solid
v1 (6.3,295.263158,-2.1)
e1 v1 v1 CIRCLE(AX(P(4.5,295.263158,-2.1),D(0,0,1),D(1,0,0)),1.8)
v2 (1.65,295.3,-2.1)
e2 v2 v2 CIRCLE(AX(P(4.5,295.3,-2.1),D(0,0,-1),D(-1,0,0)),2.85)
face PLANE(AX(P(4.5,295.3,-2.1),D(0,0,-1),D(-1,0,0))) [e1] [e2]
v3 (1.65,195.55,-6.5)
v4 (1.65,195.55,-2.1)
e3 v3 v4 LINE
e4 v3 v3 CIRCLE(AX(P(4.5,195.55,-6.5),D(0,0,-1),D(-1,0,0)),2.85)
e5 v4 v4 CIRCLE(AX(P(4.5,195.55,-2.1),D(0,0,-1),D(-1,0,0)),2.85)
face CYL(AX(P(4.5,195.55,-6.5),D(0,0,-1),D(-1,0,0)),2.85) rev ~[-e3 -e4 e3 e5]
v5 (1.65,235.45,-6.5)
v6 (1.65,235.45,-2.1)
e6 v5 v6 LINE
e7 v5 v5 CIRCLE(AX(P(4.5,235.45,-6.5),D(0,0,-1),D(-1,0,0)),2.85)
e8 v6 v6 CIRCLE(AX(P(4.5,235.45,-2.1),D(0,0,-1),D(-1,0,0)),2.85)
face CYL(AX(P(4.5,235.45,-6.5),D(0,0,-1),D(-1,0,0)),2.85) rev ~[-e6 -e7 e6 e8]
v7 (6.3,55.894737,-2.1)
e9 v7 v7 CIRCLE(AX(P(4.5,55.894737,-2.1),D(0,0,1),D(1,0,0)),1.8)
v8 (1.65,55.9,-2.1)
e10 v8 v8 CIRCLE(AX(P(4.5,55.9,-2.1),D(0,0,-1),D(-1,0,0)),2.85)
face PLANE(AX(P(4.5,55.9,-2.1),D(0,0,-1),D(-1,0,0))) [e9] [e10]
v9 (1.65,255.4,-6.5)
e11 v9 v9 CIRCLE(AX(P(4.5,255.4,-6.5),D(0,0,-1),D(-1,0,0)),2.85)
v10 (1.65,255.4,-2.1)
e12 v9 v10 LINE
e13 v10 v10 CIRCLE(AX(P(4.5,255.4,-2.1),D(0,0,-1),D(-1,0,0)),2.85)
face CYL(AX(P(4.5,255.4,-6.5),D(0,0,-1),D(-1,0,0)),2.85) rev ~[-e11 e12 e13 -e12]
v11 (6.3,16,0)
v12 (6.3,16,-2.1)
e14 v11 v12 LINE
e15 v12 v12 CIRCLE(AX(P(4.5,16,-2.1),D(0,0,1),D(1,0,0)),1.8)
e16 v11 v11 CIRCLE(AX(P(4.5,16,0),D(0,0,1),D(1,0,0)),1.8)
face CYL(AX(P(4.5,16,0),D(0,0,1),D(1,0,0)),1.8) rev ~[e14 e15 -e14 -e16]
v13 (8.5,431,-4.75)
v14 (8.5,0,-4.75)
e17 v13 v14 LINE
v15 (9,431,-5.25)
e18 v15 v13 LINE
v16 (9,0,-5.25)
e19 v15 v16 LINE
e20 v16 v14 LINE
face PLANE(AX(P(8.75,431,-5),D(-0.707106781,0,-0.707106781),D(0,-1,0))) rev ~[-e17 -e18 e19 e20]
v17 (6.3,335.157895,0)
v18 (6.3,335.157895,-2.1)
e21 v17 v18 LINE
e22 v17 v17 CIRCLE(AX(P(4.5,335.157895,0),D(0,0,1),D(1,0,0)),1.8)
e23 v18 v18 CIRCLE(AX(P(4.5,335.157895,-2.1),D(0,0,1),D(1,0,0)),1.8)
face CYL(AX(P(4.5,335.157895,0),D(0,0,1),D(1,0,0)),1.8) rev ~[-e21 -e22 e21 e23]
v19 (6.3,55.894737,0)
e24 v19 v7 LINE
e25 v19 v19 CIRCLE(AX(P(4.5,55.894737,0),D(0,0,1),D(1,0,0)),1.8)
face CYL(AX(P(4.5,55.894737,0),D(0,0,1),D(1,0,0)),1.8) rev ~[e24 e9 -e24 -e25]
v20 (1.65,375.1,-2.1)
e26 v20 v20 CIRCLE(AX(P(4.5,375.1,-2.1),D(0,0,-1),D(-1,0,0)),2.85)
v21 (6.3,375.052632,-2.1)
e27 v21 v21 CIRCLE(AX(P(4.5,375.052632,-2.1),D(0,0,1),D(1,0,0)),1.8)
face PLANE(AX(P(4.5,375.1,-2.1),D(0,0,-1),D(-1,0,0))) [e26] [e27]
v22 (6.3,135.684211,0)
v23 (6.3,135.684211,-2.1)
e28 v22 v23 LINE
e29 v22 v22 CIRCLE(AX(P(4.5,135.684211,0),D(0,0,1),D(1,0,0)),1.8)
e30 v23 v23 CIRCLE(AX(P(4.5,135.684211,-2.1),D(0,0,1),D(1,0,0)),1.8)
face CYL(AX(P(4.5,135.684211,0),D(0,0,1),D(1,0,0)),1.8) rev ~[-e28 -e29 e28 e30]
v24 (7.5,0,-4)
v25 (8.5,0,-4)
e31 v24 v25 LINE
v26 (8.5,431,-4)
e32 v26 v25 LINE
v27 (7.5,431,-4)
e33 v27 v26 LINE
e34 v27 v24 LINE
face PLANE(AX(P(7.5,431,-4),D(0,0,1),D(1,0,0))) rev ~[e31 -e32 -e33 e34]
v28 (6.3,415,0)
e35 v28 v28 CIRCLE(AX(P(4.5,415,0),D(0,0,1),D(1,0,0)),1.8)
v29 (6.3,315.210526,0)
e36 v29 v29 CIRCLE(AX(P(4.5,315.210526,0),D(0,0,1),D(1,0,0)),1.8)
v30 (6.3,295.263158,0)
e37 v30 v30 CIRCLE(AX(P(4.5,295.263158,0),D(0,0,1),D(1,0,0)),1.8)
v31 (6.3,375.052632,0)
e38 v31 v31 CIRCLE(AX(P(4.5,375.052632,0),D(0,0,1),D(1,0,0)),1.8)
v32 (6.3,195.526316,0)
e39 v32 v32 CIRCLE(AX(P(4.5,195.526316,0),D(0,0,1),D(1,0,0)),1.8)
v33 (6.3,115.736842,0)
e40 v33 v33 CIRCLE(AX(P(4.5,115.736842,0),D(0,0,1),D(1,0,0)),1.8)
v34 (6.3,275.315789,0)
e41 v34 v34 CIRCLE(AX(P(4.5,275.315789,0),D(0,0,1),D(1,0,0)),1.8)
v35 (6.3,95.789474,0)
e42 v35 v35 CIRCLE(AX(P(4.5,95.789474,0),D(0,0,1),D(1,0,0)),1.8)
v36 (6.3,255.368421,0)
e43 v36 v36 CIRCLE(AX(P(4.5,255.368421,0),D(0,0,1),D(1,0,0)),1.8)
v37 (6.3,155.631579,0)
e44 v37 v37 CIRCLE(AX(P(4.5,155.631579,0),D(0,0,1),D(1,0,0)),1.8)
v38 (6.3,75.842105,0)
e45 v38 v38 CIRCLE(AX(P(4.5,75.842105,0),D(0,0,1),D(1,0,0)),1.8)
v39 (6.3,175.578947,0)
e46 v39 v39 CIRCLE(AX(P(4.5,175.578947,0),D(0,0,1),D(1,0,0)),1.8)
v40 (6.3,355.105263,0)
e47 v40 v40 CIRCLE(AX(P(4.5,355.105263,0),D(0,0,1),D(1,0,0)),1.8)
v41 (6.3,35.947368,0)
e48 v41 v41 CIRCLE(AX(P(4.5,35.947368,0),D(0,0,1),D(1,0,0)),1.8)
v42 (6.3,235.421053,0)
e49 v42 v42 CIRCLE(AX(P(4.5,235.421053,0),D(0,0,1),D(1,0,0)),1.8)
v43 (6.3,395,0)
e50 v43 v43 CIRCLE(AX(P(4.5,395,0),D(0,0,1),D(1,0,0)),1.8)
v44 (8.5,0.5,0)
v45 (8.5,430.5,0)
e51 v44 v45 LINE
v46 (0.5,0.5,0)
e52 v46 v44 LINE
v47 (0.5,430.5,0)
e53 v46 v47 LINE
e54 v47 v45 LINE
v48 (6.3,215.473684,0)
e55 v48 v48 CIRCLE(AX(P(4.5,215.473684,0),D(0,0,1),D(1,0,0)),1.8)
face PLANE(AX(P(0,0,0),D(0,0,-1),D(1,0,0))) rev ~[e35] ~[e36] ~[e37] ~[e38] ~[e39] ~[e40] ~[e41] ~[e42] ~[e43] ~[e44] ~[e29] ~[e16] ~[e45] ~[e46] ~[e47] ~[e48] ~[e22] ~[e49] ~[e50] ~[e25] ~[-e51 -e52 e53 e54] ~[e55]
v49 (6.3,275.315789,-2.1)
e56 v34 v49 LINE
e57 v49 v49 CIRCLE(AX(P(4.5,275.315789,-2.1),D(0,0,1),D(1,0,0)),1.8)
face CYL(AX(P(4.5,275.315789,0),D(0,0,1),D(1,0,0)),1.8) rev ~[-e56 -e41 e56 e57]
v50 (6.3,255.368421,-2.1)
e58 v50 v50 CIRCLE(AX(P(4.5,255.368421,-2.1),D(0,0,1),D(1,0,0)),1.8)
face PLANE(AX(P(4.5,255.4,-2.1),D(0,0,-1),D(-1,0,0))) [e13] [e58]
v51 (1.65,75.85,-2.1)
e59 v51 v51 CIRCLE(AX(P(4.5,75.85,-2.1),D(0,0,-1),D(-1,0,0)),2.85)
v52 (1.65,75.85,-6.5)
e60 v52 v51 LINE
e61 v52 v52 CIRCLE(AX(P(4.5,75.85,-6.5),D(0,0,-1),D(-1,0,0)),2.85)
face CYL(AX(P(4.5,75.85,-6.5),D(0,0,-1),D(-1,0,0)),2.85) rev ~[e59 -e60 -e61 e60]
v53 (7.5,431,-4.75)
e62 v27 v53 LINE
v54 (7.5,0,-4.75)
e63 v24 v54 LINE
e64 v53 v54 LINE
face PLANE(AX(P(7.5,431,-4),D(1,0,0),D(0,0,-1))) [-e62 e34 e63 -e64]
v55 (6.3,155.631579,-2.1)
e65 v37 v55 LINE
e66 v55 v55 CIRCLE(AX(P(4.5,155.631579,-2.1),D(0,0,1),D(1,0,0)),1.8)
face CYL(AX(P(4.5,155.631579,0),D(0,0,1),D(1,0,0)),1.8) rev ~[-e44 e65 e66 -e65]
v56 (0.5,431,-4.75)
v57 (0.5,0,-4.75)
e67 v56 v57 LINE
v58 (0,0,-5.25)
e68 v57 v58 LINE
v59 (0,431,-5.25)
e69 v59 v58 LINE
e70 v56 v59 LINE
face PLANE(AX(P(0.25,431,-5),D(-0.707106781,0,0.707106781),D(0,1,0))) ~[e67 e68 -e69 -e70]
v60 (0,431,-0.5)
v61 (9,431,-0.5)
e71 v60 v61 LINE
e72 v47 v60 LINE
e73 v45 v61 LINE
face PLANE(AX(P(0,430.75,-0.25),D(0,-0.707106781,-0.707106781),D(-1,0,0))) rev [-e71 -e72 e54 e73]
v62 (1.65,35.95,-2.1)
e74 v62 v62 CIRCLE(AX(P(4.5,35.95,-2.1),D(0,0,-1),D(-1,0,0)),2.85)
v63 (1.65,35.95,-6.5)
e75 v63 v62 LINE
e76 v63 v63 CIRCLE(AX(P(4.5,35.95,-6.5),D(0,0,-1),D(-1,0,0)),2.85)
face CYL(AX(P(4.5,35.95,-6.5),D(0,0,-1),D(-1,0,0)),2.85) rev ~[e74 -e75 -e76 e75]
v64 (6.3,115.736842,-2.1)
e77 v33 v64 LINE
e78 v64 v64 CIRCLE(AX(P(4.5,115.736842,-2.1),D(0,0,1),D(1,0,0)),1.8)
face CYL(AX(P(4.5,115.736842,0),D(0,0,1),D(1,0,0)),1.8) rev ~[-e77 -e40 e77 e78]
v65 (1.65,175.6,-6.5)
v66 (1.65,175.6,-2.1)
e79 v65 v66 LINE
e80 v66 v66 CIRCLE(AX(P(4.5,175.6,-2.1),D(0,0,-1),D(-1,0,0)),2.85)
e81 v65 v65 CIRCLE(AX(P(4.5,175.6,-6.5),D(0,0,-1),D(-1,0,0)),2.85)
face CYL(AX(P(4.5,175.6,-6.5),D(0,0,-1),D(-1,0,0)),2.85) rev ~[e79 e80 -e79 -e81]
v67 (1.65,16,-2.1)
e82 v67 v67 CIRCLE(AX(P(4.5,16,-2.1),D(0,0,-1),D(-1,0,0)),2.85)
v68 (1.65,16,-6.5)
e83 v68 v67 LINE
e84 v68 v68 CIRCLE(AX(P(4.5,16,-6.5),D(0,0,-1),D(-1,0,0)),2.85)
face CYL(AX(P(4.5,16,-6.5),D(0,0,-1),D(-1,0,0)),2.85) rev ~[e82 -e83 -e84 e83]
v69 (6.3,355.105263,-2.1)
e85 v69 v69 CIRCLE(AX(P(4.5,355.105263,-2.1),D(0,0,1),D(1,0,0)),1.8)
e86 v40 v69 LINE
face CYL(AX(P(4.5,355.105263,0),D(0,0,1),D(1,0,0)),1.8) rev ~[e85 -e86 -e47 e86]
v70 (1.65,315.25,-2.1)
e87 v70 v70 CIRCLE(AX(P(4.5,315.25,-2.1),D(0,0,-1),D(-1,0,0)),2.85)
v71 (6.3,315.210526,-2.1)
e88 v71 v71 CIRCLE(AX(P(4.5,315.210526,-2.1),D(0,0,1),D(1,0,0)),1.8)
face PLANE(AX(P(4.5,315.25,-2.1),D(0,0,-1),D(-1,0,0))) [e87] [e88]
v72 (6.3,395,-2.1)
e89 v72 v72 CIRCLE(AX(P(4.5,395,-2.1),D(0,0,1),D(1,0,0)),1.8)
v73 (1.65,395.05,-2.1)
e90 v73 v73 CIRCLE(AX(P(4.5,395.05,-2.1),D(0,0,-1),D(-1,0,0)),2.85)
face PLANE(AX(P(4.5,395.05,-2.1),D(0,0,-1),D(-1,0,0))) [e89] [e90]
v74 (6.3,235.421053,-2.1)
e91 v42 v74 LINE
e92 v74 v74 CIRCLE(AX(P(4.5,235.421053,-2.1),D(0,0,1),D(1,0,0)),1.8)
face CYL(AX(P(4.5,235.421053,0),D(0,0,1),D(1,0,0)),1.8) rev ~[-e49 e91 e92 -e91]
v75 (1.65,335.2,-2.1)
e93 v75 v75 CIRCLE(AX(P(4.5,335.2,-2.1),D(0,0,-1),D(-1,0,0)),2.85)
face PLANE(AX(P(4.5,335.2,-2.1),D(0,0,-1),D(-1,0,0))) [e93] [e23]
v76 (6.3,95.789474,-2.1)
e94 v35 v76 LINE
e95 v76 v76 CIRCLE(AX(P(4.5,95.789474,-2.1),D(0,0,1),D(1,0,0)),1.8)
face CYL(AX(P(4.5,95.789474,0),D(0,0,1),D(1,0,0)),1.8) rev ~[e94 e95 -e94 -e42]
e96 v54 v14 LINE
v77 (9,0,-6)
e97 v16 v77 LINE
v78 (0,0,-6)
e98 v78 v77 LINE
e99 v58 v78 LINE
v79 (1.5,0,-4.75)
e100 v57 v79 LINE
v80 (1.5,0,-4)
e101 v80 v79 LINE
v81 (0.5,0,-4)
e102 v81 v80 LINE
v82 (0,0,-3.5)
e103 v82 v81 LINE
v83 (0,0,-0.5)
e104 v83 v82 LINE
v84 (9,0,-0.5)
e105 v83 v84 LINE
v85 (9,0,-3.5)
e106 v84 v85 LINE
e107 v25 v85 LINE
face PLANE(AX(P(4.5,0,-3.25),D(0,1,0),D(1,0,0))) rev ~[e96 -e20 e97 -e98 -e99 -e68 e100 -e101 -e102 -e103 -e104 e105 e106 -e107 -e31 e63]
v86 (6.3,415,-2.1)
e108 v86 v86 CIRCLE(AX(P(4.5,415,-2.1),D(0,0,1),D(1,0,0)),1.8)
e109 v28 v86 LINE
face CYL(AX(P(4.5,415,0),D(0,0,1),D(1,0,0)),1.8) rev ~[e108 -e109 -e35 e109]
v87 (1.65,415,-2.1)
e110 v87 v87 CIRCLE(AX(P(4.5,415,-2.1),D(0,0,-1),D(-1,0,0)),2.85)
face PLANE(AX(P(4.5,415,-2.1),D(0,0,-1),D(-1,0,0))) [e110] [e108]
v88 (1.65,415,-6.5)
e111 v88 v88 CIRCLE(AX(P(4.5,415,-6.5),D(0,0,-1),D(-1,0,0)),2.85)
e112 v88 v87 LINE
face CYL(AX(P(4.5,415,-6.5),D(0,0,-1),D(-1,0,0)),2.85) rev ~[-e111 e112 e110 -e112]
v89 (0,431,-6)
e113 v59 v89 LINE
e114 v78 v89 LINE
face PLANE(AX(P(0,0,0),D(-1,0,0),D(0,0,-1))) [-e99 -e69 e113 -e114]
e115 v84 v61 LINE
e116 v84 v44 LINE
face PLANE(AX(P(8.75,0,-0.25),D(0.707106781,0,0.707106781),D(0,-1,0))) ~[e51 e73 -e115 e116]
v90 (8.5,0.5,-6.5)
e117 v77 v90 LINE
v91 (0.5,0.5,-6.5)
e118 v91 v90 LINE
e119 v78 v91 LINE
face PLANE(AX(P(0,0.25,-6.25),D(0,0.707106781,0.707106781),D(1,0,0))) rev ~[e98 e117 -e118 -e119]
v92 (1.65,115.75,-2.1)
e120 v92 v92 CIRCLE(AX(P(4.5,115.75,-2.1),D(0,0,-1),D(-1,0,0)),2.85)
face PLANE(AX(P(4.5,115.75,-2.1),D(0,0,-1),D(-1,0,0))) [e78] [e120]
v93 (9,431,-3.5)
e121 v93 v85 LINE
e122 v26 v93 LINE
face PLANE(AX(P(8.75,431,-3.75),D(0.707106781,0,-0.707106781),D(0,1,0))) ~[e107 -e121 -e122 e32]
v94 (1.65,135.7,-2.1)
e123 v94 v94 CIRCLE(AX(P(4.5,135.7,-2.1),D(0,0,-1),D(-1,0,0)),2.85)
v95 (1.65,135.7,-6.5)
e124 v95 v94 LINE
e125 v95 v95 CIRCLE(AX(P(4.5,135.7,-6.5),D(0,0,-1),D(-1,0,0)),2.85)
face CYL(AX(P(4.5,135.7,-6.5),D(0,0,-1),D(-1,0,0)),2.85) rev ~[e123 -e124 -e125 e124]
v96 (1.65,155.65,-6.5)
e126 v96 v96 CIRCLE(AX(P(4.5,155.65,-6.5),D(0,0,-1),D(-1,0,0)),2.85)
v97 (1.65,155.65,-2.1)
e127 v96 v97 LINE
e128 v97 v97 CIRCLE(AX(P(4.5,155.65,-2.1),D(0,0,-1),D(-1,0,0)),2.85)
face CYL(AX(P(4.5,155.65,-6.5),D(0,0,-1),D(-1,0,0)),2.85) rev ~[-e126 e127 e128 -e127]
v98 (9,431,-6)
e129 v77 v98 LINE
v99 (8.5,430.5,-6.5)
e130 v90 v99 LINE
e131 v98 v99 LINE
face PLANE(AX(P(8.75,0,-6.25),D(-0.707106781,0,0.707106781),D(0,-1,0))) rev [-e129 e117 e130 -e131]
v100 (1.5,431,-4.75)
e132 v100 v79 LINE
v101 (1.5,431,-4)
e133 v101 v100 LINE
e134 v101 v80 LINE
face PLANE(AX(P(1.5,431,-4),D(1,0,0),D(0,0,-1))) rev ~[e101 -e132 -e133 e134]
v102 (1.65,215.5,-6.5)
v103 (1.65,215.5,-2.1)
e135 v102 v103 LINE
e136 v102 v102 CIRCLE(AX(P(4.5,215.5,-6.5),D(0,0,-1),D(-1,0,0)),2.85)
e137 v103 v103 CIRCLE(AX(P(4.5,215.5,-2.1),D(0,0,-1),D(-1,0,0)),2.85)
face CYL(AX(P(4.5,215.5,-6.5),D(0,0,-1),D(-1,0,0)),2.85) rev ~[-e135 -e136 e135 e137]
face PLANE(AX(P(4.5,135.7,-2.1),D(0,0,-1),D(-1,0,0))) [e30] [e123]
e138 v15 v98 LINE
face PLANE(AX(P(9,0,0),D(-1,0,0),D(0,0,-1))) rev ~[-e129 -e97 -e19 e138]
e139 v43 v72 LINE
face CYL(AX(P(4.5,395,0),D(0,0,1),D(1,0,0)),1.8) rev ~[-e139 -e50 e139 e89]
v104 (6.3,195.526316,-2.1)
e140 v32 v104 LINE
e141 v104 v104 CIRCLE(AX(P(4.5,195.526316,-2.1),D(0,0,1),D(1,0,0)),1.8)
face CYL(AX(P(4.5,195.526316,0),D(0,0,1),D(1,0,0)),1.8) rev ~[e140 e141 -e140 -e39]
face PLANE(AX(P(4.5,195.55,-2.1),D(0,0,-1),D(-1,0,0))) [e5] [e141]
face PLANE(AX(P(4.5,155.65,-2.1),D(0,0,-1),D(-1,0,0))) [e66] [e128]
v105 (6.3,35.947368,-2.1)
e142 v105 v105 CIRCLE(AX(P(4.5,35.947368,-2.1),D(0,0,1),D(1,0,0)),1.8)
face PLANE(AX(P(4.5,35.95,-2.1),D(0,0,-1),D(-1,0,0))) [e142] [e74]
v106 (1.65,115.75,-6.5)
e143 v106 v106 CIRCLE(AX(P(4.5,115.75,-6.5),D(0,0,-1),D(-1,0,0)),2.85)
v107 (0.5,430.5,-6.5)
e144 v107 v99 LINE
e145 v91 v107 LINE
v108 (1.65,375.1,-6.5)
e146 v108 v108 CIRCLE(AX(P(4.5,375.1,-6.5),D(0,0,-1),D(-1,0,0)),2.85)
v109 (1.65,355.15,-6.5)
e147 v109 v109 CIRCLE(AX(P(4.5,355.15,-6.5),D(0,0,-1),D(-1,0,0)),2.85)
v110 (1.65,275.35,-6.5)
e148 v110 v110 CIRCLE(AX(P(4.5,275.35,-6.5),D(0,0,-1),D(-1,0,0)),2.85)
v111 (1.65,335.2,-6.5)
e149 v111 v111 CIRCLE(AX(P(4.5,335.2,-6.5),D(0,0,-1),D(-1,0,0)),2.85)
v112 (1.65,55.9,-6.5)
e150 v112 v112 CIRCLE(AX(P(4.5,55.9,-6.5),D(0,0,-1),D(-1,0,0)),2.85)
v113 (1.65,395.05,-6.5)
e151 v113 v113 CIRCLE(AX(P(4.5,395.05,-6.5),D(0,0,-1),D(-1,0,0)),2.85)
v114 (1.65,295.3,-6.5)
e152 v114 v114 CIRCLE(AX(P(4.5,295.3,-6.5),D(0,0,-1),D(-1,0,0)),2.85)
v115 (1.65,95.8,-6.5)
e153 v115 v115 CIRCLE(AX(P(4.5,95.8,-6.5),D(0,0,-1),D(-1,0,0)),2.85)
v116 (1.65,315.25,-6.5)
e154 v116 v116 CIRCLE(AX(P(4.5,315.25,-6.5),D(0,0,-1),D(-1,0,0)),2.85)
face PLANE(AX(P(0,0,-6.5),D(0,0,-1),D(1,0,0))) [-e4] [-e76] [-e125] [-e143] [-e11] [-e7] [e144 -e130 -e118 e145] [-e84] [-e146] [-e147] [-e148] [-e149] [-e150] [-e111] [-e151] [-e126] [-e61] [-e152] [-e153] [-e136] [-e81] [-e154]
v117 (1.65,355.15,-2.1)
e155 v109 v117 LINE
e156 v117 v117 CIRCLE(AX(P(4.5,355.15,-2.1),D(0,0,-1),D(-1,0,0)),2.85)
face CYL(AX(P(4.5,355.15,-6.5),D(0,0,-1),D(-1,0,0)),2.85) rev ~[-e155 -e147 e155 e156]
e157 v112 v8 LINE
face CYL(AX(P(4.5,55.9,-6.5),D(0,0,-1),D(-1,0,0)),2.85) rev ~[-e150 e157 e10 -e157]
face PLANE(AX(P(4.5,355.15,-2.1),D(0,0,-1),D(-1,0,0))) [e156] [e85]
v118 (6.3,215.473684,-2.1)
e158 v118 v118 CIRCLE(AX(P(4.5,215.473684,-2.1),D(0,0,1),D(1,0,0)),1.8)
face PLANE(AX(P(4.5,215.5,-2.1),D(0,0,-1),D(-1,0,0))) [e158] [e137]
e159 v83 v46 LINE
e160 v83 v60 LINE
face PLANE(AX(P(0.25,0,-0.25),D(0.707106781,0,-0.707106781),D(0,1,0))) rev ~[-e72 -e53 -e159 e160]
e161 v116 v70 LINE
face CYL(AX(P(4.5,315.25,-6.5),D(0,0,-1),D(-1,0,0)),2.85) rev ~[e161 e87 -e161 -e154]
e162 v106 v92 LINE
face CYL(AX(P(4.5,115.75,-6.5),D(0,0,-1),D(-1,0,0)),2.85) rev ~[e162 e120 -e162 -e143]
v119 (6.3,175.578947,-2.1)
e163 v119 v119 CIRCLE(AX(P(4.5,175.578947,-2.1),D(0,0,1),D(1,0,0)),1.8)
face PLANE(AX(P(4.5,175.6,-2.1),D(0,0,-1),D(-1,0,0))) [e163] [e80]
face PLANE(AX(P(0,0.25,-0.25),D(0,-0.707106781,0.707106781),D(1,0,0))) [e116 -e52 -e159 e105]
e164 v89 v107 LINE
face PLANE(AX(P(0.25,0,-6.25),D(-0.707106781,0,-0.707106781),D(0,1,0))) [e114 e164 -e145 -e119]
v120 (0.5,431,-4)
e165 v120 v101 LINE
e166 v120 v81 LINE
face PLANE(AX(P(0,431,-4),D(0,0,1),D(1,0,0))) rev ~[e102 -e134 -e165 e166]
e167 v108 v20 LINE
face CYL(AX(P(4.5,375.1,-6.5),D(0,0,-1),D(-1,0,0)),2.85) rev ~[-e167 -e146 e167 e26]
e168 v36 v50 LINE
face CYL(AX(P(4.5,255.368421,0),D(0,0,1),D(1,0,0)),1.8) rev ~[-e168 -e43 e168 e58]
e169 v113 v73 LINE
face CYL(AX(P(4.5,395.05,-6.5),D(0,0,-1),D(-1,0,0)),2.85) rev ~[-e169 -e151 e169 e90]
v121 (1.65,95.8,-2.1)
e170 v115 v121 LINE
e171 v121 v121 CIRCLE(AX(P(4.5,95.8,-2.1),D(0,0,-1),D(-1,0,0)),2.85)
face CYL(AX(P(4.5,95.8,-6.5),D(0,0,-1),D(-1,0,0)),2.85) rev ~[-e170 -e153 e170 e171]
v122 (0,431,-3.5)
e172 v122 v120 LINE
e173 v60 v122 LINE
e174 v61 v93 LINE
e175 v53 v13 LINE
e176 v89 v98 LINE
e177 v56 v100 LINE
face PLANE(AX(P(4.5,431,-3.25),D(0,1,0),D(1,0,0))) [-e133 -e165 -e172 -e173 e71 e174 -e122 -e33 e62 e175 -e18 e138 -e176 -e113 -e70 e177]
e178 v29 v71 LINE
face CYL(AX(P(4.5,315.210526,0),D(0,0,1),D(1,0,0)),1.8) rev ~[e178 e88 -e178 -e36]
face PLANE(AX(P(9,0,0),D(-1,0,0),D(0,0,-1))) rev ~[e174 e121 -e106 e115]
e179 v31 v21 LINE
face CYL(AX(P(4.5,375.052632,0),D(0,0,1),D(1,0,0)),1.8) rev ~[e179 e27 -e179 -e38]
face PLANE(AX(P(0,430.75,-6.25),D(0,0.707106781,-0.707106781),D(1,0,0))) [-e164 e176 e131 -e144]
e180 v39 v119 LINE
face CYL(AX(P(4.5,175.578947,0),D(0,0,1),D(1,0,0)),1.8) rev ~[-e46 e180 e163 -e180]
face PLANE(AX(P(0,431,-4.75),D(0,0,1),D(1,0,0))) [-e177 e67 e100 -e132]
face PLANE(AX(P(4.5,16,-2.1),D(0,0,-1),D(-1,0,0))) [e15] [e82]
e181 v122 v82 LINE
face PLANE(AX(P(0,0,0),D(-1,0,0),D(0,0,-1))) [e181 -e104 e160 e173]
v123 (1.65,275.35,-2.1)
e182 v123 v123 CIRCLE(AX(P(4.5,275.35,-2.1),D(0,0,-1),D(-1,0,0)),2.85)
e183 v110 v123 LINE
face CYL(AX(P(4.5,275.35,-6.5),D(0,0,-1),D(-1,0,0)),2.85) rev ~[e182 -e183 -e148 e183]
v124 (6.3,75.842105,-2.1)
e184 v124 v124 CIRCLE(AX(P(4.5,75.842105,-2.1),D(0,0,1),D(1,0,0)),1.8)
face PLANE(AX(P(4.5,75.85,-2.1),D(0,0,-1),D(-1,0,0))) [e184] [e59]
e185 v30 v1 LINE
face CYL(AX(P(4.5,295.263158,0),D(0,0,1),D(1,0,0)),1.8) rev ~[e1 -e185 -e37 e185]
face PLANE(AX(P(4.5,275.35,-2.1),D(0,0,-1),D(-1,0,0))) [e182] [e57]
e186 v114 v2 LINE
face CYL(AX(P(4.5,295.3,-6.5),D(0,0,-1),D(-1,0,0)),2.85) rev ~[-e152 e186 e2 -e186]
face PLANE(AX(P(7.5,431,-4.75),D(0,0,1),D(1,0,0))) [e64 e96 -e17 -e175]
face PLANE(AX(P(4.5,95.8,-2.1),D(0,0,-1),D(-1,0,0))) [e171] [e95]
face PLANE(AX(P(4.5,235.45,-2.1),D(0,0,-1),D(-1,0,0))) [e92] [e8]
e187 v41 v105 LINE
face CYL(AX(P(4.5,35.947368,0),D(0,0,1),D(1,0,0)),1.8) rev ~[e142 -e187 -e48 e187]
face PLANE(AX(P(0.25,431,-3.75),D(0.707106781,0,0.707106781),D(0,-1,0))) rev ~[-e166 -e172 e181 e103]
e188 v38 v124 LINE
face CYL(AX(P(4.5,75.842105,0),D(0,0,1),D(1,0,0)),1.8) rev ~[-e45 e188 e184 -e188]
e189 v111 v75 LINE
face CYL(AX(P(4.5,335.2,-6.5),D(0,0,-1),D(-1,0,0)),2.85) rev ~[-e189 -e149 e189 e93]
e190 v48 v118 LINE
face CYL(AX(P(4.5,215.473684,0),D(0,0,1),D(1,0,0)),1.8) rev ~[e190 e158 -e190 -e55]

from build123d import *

# Parameters (mm, degrees)
CROQUIS1_W              = 9
CROQUIS1_H              = 6.5
SALIENTE_EXTRUIR1_DEPTH = 431
CROQUIS2_W              = 1.5
CROQUIS2_H              = 0.75
CORTAR_EXTRUIR1_DEPTH   = 431
CHAFL_N2_SIZE           = 0.5
CROQUIS3_R              = 1.8
CORTAR_EXTRUIR2_DEPTH   = 440
CHAFL_N4_SIZE           = 0.5
CROQUIS4_R              = 2.85
CORTAR_EXTRUIR3_DEPTH   = 4.4


with BuildPart() as part:
    # Croquis1 → Saliente-Extruir1 (new body)
    with BuildSketch(Plane(origin=(0, 0, 0), x_dir=(1, 0, 0), z_dir=(0, 1, 0))):
        with Locations((4.5, 3.25)):
            Rectangle(CROQUIS1_W, CROQUIS1_H)
    extrude(amount=SALIENTE_EXTRUIR1_DEPTH)

    # Croquis2 → Cortar-Extruir1 (cut)
    with BuildSketch(Plane(origin=(0, 431, 0), x_dir=(1, 0, 0), z_dir=(0, 1, 0))):
        with Locations((0.75, 4.375)):
            Rectangle(CROQUIS2_W, CROQUIS2_H)
        with Locations((8.25, 4.375)):
            Rectangle(CROQUIS2_W, CROQUIS2_H)
    extrude(amount=-CORTAR_EXTRUIR1_DEPTH, mode=Mode.SUBTRACT)

    # Chaflán2
    chafl_n2_edges = [part.edges().sort_by_distance(p)[0] for p in [
        (0, 215.5, -4.75),
        (0, 215.5, -4),
        (9, 215.5, -4.75),
        (9, 215.5, -4),
    ]]
    chamfer(chafl_n2_edges, length=CHAFL_N2_SIZE)

    # Croquis3 → Cortar-Extruir2 (cut)
    with BuildSketch(Plane.XY):
        with Locations((4.5, 415)):
            Circle(CROQUIS3_R)
        with Locations((4.5, 395)):
            Circle(CROQUIS3_R)
        with Locations((4.5, 375.052631579)):
            Circle(CROQUIS3_R)
        with Locations((4.5, 355.105263158)):
            Circle(CROQUIS3_R)
        with Locations((4.5, 335.157894737)):
            Circle(CROQUIS3_R)
        with Locations((4.5, 315.210526316)):
            Circle(CROQUIS3_R)
        with Locations((4.5, 295.263157895)):
            Circle(CROQUIS3_R)
        with Locations((4.5, 275.315789474)):
            Circle(CROQUIS3_R)
        with Locations((4.5, 255.368421053)):
            Circle(CROQUIS3_R)
        with Locations((4.5, 235.421052632)):
            Circle(CROQUIS3_R)
        with Locations((4.5, 215.473684211)):
            Circle(CROQUIS3_R)
        with Locations((4.5, 195.526315789)):
            Circle(CROQUIS3_R)
        with Locations((4.5, 175.578947368)):
            Circle(CROQUIS3_R)
        with Locations((4.5, 155.631578947)):
            Circle(CROQUIS3_R)
        with Locations((4.5, 135.684210526)):
            Circle(CROQUIS3_R)
        with Locations((4.5, 115.736842105)):
            Circle(CROQUIS3_R)
        with Locations((4.5, 95.789473684)):
            Circle(CROQUIS3_R)
        with Locations((4.5, 75.842105263)):
            Circle(CROQUIS3_R)
        with Locations((4.5, 55.894736842)):
            Circle(CROQUIS3_R)
        with Locations((4.5, 35.947368421)):
            Circle(CROQUIS3_R)
        with Locations((4.5, 16)):
            Circle(CROQUIS3_R)
    extrude(amount=-CORTAR_EXTRUIR2_DEPTH, mode=Mode.SUBTRACT)

    # Chaflán4
    chafl_n4_edges = [part.edges().sort_by_distance(p)[0] for p in [
        (4.5, 431, -6.5),
        (4.5, 0, -6.5),
        (4.5, 0, 0),
        (4.5, 431, 0),
        (0, 215.5, -6.5),
        (9, 215.5, -6.5),
        (9, 215.5, 0),
        (0, 215.5, 0),
    ]]
    chamfer(chafl_n4_edges, length=CHAFL_N4_SIZE)

    # Croquis4 → Cortar-Extruir3 (cut)
    with BuildSketch(Plane(origin=(0, 0, -6.5), x_dir=(-1, 0, 0), z_dir=(0, 0, -1))):
        with Locations((-4.5, 415)):
            Circle(CROQUIS4_R)
        with Locations((-4.5, 395.05)):
            Circle(CROQUIS4_R)
        with Locations((-4.5, 375.1)):
            Circle(CROQUIS4_R)
        with Locations((-4.5, 355.15)):
            Circle(CROQUIS4_R)
        with Locations((-4.5, 335.2)):
            Circle(CROQUIS4_R)
        with Locations((-4.5, 315.25)):
            Circle(CROQUIS4_R)
        with Locations((-4.5, 295.3)):
            Circle(CROQUIS4_R)
        with Locations((-4.5, 275.35)):
            Circle(CROQUIS4_R)
        with Locations((-4.5, 255.4)):
            Circle(CROQUIS4_R)
        with Locations((-4.5, 235.45)):
            Circle(CROQUIS4_R)
        with Locations((-4.5, 215.5)):
            Circle(CROQUIS4_R)
        with Locations((-4.5, 195.55)):
            Circle(CROQUIS4_R)
        with Locations((-4.5, 175.6)):
            Circle(CROQUIS4_R)
        with Locations((-4.5, 155.65)):
            Circle(CROQUIS4_R)
        with Locations((-4.5, 135.7)):
            Circle(CROQUIS4_R)
        with Locations((-4.5, 115.75)):
            Circle(CROQUIS4_R)
        with Locations((-4.5, 95.8)):
            Circle(CROQUIS4_R)
        with Locations((-4.5, 75.85)):
            Circle(CROQUIS4_R)
        with Locations((-4.5, 55.9)):
            Circle(CROQUIS4_R)
        with Locations((-4.5, 35.95)):
            Circle(CROQUIS4_R)
        with Locations((-4.5, 16)):
            Circle(CROQUIS4_R)
    extrude(amount=-CORTAR_EXTRUIR3_DEPTH, mode=Mode.SUBTRACT)


solid = part.part
